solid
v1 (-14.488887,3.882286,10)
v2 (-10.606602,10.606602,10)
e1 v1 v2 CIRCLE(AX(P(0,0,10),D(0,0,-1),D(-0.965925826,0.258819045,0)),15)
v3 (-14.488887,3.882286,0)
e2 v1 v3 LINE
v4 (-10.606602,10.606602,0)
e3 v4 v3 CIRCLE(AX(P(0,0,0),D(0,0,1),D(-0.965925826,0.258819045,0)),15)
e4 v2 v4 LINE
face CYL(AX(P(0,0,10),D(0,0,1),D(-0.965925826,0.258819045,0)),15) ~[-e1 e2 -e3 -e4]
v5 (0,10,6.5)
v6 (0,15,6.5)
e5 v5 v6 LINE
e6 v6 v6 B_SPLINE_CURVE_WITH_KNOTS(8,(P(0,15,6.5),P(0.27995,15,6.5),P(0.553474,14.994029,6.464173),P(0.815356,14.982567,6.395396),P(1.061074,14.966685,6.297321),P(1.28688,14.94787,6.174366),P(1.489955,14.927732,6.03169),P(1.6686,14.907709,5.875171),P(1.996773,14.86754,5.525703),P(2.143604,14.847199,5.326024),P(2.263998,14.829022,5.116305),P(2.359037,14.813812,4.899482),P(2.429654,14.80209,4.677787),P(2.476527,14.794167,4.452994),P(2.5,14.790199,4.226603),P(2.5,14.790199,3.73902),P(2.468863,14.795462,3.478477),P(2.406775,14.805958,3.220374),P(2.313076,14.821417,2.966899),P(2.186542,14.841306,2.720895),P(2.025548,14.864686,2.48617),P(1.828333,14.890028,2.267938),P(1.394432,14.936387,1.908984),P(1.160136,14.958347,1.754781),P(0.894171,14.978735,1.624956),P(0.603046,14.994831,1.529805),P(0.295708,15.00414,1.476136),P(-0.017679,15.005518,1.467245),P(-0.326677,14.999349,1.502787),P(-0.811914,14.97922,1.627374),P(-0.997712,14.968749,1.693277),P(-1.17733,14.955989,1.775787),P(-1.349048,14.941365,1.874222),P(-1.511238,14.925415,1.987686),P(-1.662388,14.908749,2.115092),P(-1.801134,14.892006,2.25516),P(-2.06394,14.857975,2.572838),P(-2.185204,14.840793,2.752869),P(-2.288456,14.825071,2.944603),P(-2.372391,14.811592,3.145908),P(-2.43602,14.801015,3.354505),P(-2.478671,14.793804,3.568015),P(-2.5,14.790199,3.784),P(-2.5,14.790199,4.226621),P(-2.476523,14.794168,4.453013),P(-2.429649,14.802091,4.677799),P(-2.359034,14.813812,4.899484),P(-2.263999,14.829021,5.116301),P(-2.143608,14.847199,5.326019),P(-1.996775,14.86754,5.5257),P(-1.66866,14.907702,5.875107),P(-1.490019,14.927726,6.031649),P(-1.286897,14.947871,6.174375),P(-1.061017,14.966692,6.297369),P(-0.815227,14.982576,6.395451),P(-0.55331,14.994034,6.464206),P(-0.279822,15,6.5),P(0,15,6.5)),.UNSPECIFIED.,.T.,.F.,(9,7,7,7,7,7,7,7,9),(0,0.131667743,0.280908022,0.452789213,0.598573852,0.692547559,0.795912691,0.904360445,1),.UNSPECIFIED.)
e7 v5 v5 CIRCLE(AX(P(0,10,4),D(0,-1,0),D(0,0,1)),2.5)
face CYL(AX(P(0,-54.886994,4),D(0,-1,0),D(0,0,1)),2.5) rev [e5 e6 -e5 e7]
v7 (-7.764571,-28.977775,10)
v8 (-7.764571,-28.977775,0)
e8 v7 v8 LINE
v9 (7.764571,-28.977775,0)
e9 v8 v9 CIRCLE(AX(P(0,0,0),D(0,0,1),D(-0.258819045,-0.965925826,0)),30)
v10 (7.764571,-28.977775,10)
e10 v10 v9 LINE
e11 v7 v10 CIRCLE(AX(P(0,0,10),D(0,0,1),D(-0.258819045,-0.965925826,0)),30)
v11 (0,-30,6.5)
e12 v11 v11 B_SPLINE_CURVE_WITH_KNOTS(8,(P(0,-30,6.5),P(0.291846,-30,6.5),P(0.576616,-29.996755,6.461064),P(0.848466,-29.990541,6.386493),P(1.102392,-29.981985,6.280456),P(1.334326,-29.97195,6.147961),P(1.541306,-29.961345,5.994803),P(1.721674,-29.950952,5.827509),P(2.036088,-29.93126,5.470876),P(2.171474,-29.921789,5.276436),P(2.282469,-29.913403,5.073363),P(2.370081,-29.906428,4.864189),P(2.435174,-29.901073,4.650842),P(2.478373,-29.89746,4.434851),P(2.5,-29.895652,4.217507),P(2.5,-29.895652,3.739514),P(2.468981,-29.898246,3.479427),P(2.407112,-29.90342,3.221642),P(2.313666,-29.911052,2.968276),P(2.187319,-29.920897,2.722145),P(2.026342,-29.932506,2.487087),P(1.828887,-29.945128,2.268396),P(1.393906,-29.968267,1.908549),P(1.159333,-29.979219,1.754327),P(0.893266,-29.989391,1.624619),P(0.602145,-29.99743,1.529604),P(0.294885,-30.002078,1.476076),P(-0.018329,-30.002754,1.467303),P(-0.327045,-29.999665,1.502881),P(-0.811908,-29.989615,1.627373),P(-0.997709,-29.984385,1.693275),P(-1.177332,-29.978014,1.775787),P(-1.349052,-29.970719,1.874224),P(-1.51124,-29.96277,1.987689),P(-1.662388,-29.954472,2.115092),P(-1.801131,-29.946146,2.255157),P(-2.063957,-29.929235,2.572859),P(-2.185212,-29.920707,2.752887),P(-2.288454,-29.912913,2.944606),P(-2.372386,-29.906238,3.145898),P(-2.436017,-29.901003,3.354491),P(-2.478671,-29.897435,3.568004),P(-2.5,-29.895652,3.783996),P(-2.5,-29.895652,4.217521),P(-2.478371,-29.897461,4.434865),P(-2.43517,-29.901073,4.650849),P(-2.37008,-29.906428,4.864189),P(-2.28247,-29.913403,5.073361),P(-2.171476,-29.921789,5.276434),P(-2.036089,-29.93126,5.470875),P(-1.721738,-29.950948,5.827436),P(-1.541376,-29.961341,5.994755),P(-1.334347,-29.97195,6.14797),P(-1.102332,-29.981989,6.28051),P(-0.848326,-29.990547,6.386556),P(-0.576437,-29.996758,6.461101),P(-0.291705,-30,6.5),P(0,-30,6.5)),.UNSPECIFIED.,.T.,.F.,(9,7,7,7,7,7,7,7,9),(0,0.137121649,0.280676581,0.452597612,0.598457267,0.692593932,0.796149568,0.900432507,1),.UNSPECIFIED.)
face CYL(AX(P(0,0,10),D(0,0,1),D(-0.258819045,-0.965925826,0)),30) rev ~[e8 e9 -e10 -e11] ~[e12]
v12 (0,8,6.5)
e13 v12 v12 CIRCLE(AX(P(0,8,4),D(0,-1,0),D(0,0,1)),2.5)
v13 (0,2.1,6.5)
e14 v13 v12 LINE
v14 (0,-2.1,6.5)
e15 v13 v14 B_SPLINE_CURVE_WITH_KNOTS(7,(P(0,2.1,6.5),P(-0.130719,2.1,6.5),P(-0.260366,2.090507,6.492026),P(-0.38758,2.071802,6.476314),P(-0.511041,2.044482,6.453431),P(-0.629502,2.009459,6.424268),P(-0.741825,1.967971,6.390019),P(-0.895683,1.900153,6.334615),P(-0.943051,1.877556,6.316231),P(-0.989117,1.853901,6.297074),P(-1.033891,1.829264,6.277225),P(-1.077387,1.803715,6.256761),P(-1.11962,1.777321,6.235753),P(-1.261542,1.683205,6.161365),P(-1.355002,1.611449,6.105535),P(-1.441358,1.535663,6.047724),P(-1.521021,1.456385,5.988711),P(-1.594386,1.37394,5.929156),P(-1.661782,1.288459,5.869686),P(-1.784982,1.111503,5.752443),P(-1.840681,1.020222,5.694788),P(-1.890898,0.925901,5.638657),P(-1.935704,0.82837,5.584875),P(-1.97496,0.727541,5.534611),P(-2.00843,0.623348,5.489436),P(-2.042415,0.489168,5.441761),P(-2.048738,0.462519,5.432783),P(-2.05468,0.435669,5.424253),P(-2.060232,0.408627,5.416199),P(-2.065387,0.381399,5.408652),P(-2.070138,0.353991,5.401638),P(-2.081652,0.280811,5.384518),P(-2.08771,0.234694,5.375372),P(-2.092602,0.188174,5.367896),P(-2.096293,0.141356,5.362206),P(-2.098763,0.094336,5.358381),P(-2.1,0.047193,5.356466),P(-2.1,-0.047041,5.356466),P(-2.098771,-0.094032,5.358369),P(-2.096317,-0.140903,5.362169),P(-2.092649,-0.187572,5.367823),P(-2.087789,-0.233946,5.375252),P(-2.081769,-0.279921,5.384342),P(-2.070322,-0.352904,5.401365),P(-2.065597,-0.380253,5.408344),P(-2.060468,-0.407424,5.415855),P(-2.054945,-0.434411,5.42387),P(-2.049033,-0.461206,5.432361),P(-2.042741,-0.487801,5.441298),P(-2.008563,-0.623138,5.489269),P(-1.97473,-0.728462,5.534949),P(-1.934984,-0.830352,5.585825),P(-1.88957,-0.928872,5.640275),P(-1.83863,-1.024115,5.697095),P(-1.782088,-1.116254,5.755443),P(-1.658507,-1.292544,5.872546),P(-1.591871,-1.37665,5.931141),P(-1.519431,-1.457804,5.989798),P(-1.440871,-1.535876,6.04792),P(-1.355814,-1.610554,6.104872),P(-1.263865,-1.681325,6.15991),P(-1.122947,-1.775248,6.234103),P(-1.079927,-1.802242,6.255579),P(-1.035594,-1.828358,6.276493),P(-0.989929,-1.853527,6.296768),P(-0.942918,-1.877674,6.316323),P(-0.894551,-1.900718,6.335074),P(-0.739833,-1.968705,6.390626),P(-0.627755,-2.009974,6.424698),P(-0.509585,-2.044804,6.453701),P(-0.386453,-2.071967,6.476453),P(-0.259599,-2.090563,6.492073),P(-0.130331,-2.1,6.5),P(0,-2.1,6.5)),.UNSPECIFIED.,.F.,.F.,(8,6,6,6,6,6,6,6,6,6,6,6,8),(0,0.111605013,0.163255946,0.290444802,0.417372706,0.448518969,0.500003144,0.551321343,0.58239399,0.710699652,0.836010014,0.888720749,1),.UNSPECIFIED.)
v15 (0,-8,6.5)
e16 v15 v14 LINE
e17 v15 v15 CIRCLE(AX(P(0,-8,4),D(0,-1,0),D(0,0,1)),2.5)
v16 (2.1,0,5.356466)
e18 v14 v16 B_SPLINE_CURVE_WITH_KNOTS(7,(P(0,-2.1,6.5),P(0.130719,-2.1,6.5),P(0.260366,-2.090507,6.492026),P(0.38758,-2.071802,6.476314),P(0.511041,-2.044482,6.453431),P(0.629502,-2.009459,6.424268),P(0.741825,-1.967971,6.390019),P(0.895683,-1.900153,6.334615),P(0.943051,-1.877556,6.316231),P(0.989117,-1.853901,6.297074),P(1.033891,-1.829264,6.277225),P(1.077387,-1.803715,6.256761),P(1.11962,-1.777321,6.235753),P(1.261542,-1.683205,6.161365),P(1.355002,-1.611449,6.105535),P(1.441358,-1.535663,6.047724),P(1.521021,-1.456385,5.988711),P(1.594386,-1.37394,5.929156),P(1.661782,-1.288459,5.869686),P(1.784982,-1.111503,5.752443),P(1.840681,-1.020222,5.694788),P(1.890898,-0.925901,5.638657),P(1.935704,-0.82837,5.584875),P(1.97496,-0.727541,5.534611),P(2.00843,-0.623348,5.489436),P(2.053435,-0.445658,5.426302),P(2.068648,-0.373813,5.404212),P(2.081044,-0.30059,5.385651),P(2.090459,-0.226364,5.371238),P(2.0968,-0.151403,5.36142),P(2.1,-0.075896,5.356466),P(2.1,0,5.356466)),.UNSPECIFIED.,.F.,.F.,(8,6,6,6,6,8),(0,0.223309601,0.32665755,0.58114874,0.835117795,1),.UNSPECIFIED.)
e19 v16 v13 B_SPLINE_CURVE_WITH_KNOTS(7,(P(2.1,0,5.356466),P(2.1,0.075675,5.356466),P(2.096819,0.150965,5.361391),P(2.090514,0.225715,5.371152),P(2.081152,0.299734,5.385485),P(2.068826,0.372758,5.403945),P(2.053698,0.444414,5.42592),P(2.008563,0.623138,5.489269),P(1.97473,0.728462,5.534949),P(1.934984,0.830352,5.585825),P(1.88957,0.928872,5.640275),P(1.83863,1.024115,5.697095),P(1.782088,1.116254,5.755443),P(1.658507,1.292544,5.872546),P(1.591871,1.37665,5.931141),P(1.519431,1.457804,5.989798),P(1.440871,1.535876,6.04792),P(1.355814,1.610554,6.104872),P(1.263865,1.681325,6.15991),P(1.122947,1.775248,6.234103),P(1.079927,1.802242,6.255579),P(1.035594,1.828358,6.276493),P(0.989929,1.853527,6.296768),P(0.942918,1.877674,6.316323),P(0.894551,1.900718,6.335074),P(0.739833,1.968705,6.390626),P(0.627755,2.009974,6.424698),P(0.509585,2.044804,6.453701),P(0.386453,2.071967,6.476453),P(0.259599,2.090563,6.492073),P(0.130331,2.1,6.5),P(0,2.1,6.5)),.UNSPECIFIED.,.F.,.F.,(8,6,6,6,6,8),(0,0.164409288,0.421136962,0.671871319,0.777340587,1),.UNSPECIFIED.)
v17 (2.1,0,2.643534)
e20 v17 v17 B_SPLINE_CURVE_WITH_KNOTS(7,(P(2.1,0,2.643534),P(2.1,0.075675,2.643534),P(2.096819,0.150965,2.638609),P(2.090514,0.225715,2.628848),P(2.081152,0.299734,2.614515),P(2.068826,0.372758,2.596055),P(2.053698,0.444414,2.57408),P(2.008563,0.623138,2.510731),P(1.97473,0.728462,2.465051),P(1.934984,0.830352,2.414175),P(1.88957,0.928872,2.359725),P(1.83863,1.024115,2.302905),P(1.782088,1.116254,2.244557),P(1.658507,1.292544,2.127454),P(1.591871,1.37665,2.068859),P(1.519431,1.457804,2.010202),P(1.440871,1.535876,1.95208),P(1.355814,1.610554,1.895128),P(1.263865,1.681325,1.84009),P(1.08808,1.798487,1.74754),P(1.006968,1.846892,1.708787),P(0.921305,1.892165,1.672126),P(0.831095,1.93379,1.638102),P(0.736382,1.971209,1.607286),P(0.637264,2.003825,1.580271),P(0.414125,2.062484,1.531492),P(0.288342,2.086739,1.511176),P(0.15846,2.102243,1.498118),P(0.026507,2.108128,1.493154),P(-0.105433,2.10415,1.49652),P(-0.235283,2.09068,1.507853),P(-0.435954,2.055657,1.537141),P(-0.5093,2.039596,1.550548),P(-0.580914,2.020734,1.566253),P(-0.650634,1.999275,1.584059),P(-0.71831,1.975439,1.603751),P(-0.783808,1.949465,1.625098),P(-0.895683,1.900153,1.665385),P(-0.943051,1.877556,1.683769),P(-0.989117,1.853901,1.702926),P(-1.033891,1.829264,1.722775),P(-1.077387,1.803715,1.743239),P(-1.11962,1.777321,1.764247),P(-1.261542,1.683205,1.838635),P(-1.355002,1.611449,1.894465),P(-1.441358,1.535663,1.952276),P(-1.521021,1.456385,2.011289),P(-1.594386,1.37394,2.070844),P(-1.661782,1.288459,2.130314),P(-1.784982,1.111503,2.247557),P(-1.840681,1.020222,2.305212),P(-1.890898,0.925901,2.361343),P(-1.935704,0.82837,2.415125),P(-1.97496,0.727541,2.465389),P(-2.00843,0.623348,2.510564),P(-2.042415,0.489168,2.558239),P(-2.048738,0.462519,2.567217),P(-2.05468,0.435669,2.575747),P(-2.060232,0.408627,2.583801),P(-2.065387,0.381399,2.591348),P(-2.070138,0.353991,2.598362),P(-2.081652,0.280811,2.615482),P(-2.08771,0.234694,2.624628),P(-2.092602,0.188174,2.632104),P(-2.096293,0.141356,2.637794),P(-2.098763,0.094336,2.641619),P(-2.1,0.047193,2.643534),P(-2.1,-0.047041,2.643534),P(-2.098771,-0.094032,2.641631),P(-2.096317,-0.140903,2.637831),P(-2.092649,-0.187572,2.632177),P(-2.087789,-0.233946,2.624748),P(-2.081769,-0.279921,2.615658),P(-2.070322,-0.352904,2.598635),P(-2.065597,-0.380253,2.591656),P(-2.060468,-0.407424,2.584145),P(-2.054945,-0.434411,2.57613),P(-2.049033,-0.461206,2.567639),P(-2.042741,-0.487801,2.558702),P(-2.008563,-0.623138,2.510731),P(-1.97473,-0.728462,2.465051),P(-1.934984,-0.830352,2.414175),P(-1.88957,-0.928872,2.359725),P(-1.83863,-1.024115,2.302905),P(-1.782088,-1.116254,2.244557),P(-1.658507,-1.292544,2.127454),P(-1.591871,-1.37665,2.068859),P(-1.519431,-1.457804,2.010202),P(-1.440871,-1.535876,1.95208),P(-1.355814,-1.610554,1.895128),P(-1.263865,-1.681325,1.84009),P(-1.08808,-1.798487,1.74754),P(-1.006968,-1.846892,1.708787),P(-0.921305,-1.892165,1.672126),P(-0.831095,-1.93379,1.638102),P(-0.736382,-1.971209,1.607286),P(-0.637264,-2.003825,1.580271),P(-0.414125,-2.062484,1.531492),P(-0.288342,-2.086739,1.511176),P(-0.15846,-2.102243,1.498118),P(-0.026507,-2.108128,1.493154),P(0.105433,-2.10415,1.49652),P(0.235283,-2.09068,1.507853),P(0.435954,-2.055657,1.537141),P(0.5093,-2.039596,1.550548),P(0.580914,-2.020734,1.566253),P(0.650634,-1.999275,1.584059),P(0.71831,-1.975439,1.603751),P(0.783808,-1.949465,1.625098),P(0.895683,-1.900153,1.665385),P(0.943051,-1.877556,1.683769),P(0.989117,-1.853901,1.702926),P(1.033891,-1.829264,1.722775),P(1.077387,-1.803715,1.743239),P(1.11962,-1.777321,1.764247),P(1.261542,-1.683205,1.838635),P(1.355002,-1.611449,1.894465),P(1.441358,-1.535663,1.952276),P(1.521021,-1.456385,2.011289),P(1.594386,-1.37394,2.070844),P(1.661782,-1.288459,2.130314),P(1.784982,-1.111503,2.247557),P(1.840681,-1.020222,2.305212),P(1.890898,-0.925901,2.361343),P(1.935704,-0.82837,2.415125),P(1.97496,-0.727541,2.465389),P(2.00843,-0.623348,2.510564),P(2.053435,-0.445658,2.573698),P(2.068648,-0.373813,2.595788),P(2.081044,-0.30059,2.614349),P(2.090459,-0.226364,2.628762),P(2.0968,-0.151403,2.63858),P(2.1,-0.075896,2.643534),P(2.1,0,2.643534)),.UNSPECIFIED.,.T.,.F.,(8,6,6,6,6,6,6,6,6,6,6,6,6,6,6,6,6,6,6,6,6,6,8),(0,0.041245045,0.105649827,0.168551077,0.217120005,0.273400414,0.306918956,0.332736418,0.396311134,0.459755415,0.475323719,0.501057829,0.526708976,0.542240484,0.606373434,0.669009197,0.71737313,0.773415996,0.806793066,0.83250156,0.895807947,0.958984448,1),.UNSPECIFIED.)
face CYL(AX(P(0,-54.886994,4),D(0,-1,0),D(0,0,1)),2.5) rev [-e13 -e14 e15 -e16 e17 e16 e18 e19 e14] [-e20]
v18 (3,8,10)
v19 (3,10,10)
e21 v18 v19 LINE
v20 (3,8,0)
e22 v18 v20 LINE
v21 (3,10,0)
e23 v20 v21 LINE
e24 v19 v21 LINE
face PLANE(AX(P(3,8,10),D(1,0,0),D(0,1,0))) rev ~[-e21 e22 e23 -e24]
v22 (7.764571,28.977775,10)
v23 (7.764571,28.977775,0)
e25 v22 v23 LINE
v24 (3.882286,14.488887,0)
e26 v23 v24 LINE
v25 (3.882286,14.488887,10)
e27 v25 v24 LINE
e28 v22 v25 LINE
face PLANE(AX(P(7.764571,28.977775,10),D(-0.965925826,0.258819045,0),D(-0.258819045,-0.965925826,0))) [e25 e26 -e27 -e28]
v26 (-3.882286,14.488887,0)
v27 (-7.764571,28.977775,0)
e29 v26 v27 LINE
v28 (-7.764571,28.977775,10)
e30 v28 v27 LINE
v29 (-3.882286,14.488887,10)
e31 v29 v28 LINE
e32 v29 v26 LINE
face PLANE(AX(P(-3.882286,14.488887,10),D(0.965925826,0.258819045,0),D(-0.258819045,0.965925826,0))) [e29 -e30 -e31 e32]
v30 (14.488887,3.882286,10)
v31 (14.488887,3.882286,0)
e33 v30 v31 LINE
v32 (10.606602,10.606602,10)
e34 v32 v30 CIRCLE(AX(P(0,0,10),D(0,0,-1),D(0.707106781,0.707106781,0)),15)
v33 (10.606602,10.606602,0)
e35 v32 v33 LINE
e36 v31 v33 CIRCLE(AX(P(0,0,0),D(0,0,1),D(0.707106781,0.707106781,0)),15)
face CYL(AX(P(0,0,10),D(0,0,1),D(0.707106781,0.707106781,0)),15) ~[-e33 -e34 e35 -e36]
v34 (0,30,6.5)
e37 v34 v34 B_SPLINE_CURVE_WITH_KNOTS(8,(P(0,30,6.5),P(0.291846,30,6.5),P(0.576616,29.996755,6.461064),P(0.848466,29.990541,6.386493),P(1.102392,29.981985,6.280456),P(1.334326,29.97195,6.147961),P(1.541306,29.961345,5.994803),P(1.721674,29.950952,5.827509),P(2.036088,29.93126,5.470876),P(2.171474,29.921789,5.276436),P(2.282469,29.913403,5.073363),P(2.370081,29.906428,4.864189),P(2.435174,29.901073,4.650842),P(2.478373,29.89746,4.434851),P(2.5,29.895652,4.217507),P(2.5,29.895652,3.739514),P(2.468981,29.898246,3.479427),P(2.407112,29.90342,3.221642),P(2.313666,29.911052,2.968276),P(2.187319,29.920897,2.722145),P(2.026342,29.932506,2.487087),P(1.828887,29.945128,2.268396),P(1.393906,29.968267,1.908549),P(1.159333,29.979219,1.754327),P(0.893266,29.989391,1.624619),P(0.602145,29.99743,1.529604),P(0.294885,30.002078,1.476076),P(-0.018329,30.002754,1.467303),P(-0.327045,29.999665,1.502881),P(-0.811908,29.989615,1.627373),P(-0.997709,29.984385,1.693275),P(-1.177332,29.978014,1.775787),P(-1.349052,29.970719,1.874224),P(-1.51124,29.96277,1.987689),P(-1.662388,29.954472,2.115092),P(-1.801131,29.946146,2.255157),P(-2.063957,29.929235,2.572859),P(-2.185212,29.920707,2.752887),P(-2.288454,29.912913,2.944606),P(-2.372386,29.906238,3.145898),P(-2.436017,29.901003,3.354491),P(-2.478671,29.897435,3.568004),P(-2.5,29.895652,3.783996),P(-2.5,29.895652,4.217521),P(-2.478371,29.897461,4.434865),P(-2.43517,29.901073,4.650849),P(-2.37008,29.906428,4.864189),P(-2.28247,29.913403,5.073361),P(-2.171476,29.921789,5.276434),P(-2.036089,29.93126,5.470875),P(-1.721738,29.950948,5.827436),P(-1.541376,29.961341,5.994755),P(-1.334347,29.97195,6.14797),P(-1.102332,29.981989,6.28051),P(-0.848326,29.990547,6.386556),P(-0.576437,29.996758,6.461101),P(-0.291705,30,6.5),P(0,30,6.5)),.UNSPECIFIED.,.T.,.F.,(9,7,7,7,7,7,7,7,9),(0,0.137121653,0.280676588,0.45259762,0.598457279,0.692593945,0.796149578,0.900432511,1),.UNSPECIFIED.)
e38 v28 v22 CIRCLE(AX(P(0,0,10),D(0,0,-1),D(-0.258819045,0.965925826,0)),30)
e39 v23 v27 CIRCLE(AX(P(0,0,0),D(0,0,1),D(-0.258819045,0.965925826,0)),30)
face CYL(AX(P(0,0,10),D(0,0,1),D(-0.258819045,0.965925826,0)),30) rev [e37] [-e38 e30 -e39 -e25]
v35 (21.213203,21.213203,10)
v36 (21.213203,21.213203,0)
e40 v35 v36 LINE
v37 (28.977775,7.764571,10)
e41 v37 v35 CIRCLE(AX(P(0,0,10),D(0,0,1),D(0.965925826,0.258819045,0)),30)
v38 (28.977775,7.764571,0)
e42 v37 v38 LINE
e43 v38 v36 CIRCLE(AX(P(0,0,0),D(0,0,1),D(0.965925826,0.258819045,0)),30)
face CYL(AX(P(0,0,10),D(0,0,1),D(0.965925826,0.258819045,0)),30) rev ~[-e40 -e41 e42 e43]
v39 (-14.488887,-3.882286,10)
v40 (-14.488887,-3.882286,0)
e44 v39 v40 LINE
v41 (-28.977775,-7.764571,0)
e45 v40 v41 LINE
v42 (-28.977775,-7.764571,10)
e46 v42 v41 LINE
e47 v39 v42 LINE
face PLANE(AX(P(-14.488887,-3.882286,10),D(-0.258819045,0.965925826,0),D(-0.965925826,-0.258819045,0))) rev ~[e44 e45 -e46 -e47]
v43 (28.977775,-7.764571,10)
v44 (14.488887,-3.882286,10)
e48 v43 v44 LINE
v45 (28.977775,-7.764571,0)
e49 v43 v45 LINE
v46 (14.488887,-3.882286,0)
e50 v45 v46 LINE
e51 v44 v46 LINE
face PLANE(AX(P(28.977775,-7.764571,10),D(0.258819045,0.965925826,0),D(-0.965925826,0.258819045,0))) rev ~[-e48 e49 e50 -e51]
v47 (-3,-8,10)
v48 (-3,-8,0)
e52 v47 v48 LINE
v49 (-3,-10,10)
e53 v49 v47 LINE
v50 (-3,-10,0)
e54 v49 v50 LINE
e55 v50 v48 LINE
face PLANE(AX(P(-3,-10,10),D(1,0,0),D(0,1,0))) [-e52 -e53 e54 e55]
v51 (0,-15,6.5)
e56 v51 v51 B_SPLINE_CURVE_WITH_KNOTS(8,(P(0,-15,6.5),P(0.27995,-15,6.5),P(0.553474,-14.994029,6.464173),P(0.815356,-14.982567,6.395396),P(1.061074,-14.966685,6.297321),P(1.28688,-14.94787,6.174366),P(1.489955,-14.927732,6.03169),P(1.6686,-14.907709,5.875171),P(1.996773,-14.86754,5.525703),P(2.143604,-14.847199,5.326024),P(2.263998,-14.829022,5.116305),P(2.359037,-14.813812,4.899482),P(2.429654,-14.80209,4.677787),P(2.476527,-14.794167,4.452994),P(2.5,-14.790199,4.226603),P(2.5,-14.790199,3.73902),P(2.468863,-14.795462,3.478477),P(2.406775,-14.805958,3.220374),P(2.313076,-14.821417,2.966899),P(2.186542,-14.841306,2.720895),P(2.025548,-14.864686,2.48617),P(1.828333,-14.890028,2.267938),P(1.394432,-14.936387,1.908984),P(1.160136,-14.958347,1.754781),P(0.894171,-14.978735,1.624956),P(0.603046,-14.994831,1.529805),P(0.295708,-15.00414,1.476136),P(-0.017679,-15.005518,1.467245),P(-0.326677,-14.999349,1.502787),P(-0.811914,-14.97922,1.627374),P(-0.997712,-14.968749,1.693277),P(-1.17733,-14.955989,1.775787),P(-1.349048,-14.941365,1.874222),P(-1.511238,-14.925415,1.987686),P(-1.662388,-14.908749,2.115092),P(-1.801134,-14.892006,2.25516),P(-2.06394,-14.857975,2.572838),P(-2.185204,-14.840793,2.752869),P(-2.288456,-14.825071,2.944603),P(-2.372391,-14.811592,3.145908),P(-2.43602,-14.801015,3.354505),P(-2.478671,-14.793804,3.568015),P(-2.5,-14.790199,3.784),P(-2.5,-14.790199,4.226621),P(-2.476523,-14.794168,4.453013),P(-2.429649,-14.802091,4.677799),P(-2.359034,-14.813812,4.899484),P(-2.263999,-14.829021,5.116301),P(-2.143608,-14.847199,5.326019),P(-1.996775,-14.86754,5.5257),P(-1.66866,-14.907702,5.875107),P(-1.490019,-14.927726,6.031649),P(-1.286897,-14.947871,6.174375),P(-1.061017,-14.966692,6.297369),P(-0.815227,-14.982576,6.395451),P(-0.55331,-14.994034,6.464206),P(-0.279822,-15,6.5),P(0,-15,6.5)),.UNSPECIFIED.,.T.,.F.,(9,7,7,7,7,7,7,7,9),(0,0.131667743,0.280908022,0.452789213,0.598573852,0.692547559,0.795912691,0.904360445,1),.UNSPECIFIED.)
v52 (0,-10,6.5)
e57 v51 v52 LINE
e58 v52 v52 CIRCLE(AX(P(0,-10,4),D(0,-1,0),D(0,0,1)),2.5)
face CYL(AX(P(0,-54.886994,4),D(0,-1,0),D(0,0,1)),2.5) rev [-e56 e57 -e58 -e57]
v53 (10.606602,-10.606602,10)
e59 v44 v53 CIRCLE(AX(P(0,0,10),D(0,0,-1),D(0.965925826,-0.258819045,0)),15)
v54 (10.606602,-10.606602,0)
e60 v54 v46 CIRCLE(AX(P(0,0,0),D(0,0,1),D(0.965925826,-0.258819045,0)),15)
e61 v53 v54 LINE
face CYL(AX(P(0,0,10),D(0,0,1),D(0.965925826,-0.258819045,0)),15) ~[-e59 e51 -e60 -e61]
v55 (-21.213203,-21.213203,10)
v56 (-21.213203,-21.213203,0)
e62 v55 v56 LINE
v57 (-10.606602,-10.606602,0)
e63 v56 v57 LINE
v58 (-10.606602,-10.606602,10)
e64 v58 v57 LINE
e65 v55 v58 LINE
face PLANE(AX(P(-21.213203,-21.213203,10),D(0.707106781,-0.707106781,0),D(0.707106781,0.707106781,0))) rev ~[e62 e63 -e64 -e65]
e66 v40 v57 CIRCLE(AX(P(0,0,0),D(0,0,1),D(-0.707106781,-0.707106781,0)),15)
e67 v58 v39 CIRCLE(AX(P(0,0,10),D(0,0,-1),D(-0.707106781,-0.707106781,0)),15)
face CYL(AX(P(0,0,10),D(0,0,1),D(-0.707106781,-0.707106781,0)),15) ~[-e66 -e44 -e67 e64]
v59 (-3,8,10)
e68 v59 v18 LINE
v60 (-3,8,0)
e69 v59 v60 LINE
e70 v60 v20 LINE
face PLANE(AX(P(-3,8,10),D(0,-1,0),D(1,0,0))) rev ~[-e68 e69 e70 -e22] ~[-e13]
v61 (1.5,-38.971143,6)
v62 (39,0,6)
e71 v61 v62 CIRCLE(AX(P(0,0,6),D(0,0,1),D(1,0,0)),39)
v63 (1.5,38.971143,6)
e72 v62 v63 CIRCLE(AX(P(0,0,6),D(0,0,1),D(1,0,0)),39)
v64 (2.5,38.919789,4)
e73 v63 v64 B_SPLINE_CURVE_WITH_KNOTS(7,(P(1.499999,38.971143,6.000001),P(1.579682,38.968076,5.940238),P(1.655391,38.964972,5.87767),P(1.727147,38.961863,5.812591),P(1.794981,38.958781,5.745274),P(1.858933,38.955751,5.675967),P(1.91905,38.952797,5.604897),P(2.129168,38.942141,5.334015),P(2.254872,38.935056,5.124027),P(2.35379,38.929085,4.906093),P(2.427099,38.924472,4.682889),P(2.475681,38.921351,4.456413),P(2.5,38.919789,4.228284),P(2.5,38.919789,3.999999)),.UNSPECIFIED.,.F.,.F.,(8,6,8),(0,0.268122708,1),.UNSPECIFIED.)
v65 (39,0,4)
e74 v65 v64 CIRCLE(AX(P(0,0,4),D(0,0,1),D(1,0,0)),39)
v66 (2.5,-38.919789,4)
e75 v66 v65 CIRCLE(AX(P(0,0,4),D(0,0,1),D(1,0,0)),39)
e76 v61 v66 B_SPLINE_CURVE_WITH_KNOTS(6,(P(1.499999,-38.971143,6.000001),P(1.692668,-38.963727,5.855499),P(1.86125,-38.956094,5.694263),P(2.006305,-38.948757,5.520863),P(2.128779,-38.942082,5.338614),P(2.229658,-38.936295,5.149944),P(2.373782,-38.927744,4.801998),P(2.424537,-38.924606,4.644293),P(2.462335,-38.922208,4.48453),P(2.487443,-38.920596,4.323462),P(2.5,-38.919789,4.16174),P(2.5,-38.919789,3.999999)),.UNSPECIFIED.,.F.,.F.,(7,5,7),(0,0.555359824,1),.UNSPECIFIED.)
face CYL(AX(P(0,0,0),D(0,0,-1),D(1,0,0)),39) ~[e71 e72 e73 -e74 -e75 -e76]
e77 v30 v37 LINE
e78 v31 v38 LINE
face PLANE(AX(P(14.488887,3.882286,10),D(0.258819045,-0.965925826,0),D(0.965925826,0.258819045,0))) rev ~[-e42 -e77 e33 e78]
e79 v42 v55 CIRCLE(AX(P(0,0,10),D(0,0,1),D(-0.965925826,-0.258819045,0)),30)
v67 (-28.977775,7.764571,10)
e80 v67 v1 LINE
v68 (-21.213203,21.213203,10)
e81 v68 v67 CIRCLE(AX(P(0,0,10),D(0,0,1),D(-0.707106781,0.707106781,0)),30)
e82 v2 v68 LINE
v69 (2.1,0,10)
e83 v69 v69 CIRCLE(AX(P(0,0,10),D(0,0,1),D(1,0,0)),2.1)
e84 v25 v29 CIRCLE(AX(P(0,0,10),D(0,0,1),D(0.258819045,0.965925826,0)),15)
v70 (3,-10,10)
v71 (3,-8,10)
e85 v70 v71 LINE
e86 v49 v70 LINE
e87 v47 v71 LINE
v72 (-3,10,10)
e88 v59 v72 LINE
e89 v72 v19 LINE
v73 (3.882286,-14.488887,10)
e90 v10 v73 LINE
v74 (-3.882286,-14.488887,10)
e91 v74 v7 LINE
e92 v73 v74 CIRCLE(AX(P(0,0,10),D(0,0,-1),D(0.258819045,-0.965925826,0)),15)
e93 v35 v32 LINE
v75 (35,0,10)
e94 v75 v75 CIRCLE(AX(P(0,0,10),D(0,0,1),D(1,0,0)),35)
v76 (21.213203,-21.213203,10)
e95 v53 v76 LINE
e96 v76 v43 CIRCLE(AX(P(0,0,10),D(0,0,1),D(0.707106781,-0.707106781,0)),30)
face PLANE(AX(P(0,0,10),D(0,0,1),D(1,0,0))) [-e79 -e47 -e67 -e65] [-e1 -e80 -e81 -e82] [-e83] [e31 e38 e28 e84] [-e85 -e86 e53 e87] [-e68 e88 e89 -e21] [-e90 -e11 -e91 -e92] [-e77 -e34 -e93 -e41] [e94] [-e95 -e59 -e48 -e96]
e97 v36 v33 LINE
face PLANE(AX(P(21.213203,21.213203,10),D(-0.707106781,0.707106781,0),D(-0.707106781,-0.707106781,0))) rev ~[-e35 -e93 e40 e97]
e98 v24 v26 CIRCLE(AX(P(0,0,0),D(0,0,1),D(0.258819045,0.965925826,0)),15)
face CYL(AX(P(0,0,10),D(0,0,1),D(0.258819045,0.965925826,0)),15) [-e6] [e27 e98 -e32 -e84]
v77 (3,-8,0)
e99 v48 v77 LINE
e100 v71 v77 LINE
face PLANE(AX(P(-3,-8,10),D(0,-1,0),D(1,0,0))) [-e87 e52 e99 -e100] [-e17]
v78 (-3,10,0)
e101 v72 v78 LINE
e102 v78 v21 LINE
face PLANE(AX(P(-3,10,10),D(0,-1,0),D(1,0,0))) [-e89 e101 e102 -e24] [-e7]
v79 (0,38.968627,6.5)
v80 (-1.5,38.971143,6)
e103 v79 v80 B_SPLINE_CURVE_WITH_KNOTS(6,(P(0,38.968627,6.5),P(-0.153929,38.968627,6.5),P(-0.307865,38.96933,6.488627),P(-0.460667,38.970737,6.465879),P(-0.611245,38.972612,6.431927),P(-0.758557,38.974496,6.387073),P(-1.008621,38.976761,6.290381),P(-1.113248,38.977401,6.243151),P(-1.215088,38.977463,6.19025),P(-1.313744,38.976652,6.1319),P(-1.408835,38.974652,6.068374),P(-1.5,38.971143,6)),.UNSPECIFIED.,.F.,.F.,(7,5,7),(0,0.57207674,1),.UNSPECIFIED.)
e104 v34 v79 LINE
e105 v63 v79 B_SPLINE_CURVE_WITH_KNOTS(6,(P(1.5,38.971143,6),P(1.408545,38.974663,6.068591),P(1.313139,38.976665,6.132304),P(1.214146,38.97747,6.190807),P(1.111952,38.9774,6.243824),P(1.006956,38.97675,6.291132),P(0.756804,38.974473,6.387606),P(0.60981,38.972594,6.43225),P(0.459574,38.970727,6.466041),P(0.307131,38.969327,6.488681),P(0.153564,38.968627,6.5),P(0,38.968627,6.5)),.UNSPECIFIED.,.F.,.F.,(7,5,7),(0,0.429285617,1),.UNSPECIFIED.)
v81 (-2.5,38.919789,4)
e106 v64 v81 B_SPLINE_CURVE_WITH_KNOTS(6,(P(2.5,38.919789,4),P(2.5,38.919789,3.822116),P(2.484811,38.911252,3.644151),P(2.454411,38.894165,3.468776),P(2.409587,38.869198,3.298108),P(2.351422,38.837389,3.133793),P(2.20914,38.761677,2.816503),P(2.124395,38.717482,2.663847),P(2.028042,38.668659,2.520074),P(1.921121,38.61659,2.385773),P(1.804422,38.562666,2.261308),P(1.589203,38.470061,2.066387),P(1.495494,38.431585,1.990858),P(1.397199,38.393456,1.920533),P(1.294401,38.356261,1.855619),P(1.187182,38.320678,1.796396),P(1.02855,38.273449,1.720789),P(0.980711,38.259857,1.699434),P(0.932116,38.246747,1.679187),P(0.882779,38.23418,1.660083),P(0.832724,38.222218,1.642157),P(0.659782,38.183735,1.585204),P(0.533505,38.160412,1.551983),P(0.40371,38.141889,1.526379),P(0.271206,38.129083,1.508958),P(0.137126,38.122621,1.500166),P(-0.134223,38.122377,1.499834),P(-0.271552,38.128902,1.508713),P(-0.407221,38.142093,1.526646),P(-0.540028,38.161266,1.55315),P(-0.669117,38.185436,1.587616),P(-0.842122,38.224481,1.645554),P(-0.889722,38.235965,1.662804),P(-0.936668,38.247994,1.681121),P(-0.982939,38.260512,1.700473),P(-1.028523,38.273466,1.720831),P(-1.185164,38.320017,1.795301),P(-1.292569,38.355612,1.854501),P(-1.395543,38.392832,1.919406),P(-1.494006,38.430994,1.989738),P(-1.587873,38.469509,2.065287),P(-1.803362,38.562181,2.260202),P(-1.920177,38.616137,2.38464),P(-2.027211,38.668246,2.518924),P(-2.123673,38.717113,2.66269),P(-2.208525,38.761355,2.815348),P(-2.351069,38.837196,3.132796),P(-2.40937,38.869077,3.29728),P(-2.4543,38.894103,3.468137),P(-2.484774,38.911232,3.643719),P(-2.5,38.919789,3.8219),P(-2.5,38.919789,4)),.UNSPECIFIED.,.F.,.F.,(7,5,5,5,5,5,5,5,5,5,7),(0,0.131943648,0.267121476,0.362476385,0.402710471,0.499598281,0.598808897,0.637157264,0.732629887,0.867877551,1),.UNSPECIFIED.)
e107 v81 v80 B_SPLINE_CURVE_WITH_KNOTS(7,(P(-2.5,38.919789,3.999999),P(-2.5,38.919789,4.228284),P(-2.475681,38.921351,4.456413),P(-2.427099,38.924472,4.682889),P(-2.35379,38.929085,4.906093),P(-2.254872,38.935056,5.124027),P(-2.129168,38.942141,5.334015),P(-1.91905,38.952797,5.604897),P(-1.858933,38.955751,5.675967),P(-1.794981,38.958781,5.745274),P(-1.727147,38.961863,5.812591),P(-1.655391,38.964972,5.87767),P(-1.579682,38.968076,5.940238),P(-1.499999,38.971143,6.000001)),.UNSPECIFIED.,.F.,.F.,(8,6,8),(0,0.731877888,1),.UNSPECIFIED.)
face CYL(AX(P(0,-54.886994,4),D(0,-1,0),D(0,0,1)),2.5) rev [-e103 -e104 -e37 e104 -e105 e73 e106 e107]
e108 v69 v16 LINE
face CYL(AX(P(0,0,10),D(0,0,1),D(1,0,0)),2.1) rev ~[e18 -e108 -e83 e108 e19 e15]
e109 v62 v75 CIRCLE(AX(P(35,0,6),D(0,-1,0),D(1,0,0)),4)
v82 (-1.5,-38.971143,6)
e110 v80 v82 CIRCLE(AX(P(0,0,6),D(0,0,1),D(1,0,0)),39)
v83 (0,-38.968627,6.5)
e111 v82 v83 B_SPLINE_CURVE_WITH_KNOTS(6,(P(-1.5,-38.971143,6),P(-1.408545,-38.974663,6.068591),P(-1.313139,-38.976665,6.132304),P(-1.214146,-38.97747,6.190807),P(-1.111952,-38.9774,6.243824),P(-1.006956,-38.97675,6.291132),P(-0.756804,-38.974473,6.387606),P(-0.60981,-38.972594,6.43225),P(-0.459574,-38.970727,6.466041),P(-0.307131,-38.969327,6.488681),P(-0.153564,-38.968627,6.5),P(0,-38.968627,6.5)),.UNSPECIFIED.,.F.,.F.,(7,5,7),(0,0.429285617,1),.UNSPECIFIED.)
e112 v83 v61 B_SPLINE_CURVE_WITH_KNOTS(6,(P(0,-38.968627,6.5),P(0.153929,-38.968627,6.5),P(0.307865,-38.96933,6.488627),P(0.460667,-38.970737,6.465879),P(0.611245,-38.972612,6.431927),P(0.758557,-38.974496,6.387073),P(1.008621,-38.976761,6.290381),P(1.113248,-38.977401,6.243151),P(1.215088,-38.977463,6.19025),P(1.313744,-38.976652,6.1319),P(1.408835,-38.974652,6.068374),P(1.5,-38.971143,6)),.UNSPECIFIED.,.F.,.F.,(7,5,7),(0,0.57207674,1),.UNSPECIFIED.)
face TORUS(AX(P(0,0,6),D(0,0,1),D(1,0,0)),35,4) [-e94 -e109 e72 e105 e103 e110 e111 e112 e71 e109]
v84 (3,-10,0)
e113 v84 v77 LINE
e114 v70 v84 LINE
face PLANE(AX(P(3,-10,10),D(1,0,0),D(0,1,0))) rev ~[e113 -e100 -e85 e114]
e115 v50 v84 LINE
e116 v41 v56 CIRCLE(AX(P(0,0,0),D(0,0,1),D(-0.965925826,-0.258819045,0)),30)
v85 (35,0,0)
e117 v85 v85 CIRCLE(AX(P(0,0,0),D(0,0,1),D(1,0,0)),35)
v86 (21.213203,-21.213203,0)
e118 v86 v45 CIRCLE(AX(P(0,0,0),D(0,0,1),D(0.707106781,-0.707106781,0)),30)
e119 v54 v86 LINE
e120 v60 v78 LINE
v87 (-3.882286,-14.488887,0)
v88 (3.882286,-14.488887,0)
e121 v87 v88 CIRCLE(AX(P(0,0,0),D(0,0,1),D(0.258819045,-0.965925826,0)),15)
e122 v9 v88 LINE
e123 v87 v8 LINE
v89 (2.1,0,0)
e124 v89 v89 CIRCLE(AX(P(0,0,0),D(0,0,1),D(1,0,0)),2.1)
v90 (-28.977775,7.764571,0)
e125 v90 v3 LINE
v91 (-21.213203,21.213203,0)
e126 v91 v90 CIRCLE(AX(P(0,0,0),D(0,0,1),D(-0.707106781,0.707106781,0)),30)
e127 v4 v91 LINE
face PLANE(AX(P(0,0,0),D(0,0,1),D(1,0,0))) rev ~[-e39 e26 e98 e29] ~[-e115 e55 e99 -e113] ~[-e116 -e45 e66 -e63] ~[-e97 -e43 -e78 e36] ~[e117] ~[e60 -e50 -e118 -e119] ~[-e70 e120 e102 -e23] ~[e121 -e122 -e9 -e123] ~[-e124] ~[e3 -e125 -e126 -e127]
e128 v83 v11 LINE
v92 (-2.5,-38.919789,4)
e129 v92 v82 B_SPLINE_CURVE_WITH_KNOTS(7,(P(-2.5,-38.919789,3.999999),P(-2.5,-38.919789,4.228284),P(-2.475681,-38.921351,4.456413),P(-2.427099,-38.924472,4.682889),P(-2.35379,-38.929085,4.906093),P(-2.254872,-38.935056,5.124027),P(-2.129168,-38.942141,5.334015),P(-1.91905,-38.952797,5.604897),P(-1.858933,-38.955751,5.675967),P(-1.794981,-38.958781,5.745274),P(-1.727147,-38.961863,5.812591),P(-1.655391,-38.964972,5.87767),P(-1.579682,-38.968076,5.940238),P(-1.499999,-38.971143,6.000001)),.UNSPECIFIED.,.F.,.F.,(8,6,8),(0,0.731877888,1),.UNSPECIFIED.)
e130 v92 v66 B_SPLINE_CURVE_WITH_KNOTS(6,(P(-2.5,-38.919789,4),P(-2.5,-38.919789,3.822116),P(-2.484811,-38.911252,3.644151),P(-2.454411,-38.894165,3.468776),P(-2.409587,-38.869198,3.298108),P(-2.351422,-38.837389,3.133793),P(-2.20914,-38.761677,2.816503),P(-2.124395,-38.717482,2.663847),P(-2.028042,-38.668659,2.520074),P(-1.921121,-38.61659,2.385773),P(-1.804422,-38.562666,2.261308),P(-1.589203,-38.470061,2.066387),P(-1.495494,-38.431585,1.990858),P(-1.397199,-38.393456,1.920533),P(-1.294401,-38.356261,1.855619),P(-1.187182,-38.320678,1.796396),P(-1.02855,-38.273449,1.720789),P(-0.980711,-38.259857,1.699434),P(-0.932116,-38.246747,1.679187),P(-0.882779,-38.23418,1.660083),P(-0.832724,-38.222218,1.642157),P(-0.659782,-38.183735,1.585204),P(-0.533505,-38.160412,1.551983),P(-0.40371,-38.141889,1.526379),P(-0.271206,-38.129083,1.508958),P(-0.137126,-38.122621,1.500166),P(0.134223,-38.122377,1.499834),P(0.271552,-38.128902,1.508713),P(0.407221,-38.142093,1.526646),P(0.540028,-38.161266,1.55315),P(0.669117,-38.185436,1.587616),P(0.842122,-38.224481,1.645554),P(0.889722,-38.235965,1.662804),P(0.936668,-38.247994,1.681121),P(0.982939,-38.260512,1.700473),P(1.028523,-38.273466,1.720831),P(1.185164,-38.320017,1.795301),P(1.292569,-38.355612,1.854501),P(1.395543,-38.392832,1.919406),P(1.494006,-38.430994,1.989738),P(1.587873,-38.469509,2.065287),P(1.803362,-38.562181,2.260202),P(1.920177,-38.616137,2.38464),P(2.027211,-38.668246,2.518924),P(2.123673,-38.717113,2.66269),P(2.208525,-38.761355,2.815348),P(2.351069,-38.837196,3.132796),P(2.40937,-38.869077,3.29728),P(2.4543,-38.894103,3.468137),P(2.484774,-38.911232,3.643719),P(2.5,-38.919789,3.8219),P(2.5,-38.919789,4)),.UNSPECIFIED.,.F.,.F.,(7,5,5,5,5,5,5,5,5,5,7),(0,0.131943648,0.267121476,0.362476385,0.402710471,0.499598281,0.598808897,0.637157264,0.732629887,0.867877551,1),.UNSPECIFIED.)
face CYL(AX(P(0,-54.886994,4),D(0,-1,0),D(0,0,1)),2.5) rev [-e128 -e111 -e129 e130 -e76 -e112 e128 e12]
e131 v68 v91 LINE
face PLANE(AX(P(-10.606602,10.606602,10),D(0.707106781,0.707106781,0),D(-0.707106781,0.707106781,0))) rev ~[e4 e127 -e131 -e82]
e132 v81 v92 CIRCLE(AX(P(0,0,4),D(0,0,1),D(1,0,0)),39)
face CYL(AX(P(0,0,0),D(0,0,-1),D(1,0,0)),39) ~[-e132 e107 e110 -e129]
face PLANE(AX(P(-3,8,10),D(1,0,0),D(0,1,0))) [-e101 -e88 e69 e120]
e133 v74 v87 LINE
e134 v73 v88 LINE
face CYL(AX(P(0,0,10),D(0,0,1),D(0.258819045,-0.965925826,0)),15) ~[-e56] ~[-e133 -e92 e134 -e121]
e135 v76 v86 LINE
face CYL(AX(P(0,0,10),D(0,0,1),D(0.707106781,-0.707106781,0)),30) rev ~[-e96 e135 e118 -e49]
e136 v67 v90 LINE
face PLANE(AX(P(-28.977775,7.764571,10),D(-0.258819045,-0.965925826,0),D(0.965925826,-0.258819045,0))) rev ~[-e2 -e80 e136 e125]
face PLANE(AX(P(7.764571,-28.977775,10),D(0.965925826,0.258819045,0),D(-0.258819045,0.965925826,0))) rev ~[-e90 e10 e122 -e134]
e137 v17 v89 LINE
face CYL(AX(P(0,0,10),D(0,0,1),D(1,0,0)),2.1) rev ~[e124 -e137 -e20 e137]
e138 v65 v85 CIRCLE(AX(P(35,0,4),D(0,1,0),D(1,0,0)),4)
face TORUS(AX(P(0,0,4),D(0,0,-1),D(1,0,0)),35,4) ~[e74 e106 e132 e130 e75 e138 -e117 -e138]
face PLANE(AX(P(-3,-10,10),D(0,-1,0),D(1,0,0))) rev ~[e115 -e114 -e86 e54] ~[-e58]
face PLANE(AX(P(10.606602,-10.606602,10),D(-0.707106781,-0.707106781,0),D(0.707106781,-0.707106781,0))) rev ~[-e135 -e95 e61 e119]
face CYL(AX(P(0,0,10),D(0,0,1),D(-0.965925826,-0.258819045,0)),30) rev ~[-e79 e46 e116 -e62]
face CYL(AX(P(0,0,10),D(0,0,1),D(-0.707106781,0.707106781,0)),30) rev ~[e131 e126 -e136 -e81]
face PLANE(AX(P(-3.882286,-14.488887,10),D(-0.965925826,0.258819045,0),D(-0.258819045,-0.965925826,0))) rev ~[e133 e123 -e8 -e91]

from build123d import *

# Parameters (mm, degrees)
SKETCH1_R               = 39
BOSS_EXTRUDE1_DEPTH     = 10
SKETCH2_R               = 2.1
CUT_EXTRUDE1_DEPTH      = 57.053545829
FILLET1_R               = 4
CUT_EXTRUDE2_DEPTH      = 57.053545829
SKETCH4_W               = 6
SKETCH4_H               = 2
CUT_EXTRUDE3_DEPTH      = 57.053545829
CUT_EXTRUDE4_DEPTH      = 62.886993787
CUT_EXTRUDE4_DEPTH_BACK = 62.886993787
SKETCH5_R               = 2.5


with BuildPart() as part:
    # Sketch1 → Boss-Extrude1 (new body)
    with BuildSketch(Plane.XY):
        Circle(SKETCH1_R)
    extrude(amount=BOSS_EXTRUDE1_DEPTH)

    # Sketch2 → Cut-Extrude1 (cut, through all)
    with BuildSketch(Plane.XY.offset(10)):
        Circle(SKETCH2_R)
    extrude(amount=-CUT_EXTRUDE1_DEPTH, mode=Mode.SUBTRACT)

    # Fillet1
    fillet1_edges = [part.edges().sort_by_distance(p)[0] for p in [
        (-39, 0, 0),
        (-39, 0, 10),
    ]]
    fillet(fillet1_edges, radius=FILLET1_R)

    # Sketch3 → Cut-Extrude2 (cut, through all)
    with BuildSketch(Plane.XY.offset(10)):
        with BuildLine():
            Line((7.764571353, 28.977774789), (3.882285677, 14.488887394))
            ThreePointArc((3.882285677, 14.488887394), (0, 15), (-3.882285677, 14.488887394))
            Line((-3.882285677, 14.488887394), (-7.764571353, 28.977774789))
            ThreePointArc((-7.764571353, 28.977774789), (0, 30), (7.764571353, 28.977774789))
        make_face()
        with BuildLine():
            Line((21.213203436, 21.213203436), (10.606601718, 10.606601718))
            ThreePointArc((10.606601718, 10.606601718), (12.990381057, 7.5), (14.488887394, 3.882285677))
            Line((14.488887394, 3.882285677), (28.977774789, 7.764571353))
            ThreePointArc((28.977774789, 7.764571353), (25.980762114, 15), (21.213203436, 21.213203436))
        make_face()
        with BuildLine():
            Line((28.977774789, -7.764571353), (14.488887394, -3.882285677))
            ThreePointArc((14.488887394, -3.882285677), (12.990381057, -7.5), (10.606601718, -10.606601718))
            Line((10.606601718, -10.606601718), (21.213203436, -21.213203436))
            ThreePointArc((21.213203436, -21.213203436), (25.980762114, -15), (28.977774789, -7.764571353))
        make_face()
        with BuildLine():
            Line((7.764571353, -28.977774789), (3.882285677, -14.488887394))
            ThreePointArc((3.882285677, -14.488887394), (0, -15), (-3.882285677, -14.488887394))
            Line((-3.882285677, -14.488887394), (-7.764571353, -28.977774789))
            ThreePointArc((-7.764571353, -28.977774789), (0, -30), (7.764571353, -28.977774789))
        make_face()
        with BuildLine():
            Line((-21.213203436, -21.213203436), (-10.606601718, -10.606601718))
            ThreePointArc((-10.606601718, -10.606601718), (-12.990381057, -7.5), (-14.488887394, -3.882285677))
            Line((-14.488887394, -3.882285677), (-28.977774789, -7.764571353))
            ThreePointArc((-28.977774789, -7.764571353), (-25.980762114, -15), (-21.213203436, -21.213203436))
        make_face()
        with BuildLine():
            Line((-28.977774789, 7.764571353), (-14.488887394, 3.882285677))
            ThreePointArc((-14.488887394, 3.882285677), (-12.990381057, 7.5), (-10.606601718, 10.606601718))
            Line((-10.606601718, 10.606601718), (-21.213203436, 21.213203436))
            ThreePointArc((-21.213203436, 21.213203436), (-25.980762114, 15), (-28.977774789, 7.764571353))
        make_face()
    extrude(amount=-CUT_EXTRUDE2_DEPTH, mode=Mode.SUBTRACT)

    # Sketch4 → Cut-Extrude3 (cut, through all)
    with BuildSketch(Plane.XY.offset(10)):
        with Locations((0, 9)):
            Rectangle(SKETCH4_W, SKETCH4_H)
        with Locations((0, -9)):
            Rectangle(SKETCH4_W, SKETCH4_H)
    extrude(amount=-CUT_EXTRUDE3_DEPTH, mode=Mode.SUBTRACT)

    # Sketch5 → Cut-Extrude4 (cut, two sides: drawn at the far end of the back side and taken through both)
    with BuildSketch(Plane(origin=(0, 8, 0), x_dir=(1, 0, 0), z_dir=(0, 1, 0)).offset(-CUT_EXTRUDE4_DEPTH_BACK)):
        with Locations(Location((0, -4, 0), (0, 0, 270))):
            Circle(SKETCH5_R)
    extrude(amount=CUT_EXTRUDE4_DEPTH + CUT_EXTRUDE4_DEPTH_BACK, mode=Mode.SUBTRACT)


solid = part.part
